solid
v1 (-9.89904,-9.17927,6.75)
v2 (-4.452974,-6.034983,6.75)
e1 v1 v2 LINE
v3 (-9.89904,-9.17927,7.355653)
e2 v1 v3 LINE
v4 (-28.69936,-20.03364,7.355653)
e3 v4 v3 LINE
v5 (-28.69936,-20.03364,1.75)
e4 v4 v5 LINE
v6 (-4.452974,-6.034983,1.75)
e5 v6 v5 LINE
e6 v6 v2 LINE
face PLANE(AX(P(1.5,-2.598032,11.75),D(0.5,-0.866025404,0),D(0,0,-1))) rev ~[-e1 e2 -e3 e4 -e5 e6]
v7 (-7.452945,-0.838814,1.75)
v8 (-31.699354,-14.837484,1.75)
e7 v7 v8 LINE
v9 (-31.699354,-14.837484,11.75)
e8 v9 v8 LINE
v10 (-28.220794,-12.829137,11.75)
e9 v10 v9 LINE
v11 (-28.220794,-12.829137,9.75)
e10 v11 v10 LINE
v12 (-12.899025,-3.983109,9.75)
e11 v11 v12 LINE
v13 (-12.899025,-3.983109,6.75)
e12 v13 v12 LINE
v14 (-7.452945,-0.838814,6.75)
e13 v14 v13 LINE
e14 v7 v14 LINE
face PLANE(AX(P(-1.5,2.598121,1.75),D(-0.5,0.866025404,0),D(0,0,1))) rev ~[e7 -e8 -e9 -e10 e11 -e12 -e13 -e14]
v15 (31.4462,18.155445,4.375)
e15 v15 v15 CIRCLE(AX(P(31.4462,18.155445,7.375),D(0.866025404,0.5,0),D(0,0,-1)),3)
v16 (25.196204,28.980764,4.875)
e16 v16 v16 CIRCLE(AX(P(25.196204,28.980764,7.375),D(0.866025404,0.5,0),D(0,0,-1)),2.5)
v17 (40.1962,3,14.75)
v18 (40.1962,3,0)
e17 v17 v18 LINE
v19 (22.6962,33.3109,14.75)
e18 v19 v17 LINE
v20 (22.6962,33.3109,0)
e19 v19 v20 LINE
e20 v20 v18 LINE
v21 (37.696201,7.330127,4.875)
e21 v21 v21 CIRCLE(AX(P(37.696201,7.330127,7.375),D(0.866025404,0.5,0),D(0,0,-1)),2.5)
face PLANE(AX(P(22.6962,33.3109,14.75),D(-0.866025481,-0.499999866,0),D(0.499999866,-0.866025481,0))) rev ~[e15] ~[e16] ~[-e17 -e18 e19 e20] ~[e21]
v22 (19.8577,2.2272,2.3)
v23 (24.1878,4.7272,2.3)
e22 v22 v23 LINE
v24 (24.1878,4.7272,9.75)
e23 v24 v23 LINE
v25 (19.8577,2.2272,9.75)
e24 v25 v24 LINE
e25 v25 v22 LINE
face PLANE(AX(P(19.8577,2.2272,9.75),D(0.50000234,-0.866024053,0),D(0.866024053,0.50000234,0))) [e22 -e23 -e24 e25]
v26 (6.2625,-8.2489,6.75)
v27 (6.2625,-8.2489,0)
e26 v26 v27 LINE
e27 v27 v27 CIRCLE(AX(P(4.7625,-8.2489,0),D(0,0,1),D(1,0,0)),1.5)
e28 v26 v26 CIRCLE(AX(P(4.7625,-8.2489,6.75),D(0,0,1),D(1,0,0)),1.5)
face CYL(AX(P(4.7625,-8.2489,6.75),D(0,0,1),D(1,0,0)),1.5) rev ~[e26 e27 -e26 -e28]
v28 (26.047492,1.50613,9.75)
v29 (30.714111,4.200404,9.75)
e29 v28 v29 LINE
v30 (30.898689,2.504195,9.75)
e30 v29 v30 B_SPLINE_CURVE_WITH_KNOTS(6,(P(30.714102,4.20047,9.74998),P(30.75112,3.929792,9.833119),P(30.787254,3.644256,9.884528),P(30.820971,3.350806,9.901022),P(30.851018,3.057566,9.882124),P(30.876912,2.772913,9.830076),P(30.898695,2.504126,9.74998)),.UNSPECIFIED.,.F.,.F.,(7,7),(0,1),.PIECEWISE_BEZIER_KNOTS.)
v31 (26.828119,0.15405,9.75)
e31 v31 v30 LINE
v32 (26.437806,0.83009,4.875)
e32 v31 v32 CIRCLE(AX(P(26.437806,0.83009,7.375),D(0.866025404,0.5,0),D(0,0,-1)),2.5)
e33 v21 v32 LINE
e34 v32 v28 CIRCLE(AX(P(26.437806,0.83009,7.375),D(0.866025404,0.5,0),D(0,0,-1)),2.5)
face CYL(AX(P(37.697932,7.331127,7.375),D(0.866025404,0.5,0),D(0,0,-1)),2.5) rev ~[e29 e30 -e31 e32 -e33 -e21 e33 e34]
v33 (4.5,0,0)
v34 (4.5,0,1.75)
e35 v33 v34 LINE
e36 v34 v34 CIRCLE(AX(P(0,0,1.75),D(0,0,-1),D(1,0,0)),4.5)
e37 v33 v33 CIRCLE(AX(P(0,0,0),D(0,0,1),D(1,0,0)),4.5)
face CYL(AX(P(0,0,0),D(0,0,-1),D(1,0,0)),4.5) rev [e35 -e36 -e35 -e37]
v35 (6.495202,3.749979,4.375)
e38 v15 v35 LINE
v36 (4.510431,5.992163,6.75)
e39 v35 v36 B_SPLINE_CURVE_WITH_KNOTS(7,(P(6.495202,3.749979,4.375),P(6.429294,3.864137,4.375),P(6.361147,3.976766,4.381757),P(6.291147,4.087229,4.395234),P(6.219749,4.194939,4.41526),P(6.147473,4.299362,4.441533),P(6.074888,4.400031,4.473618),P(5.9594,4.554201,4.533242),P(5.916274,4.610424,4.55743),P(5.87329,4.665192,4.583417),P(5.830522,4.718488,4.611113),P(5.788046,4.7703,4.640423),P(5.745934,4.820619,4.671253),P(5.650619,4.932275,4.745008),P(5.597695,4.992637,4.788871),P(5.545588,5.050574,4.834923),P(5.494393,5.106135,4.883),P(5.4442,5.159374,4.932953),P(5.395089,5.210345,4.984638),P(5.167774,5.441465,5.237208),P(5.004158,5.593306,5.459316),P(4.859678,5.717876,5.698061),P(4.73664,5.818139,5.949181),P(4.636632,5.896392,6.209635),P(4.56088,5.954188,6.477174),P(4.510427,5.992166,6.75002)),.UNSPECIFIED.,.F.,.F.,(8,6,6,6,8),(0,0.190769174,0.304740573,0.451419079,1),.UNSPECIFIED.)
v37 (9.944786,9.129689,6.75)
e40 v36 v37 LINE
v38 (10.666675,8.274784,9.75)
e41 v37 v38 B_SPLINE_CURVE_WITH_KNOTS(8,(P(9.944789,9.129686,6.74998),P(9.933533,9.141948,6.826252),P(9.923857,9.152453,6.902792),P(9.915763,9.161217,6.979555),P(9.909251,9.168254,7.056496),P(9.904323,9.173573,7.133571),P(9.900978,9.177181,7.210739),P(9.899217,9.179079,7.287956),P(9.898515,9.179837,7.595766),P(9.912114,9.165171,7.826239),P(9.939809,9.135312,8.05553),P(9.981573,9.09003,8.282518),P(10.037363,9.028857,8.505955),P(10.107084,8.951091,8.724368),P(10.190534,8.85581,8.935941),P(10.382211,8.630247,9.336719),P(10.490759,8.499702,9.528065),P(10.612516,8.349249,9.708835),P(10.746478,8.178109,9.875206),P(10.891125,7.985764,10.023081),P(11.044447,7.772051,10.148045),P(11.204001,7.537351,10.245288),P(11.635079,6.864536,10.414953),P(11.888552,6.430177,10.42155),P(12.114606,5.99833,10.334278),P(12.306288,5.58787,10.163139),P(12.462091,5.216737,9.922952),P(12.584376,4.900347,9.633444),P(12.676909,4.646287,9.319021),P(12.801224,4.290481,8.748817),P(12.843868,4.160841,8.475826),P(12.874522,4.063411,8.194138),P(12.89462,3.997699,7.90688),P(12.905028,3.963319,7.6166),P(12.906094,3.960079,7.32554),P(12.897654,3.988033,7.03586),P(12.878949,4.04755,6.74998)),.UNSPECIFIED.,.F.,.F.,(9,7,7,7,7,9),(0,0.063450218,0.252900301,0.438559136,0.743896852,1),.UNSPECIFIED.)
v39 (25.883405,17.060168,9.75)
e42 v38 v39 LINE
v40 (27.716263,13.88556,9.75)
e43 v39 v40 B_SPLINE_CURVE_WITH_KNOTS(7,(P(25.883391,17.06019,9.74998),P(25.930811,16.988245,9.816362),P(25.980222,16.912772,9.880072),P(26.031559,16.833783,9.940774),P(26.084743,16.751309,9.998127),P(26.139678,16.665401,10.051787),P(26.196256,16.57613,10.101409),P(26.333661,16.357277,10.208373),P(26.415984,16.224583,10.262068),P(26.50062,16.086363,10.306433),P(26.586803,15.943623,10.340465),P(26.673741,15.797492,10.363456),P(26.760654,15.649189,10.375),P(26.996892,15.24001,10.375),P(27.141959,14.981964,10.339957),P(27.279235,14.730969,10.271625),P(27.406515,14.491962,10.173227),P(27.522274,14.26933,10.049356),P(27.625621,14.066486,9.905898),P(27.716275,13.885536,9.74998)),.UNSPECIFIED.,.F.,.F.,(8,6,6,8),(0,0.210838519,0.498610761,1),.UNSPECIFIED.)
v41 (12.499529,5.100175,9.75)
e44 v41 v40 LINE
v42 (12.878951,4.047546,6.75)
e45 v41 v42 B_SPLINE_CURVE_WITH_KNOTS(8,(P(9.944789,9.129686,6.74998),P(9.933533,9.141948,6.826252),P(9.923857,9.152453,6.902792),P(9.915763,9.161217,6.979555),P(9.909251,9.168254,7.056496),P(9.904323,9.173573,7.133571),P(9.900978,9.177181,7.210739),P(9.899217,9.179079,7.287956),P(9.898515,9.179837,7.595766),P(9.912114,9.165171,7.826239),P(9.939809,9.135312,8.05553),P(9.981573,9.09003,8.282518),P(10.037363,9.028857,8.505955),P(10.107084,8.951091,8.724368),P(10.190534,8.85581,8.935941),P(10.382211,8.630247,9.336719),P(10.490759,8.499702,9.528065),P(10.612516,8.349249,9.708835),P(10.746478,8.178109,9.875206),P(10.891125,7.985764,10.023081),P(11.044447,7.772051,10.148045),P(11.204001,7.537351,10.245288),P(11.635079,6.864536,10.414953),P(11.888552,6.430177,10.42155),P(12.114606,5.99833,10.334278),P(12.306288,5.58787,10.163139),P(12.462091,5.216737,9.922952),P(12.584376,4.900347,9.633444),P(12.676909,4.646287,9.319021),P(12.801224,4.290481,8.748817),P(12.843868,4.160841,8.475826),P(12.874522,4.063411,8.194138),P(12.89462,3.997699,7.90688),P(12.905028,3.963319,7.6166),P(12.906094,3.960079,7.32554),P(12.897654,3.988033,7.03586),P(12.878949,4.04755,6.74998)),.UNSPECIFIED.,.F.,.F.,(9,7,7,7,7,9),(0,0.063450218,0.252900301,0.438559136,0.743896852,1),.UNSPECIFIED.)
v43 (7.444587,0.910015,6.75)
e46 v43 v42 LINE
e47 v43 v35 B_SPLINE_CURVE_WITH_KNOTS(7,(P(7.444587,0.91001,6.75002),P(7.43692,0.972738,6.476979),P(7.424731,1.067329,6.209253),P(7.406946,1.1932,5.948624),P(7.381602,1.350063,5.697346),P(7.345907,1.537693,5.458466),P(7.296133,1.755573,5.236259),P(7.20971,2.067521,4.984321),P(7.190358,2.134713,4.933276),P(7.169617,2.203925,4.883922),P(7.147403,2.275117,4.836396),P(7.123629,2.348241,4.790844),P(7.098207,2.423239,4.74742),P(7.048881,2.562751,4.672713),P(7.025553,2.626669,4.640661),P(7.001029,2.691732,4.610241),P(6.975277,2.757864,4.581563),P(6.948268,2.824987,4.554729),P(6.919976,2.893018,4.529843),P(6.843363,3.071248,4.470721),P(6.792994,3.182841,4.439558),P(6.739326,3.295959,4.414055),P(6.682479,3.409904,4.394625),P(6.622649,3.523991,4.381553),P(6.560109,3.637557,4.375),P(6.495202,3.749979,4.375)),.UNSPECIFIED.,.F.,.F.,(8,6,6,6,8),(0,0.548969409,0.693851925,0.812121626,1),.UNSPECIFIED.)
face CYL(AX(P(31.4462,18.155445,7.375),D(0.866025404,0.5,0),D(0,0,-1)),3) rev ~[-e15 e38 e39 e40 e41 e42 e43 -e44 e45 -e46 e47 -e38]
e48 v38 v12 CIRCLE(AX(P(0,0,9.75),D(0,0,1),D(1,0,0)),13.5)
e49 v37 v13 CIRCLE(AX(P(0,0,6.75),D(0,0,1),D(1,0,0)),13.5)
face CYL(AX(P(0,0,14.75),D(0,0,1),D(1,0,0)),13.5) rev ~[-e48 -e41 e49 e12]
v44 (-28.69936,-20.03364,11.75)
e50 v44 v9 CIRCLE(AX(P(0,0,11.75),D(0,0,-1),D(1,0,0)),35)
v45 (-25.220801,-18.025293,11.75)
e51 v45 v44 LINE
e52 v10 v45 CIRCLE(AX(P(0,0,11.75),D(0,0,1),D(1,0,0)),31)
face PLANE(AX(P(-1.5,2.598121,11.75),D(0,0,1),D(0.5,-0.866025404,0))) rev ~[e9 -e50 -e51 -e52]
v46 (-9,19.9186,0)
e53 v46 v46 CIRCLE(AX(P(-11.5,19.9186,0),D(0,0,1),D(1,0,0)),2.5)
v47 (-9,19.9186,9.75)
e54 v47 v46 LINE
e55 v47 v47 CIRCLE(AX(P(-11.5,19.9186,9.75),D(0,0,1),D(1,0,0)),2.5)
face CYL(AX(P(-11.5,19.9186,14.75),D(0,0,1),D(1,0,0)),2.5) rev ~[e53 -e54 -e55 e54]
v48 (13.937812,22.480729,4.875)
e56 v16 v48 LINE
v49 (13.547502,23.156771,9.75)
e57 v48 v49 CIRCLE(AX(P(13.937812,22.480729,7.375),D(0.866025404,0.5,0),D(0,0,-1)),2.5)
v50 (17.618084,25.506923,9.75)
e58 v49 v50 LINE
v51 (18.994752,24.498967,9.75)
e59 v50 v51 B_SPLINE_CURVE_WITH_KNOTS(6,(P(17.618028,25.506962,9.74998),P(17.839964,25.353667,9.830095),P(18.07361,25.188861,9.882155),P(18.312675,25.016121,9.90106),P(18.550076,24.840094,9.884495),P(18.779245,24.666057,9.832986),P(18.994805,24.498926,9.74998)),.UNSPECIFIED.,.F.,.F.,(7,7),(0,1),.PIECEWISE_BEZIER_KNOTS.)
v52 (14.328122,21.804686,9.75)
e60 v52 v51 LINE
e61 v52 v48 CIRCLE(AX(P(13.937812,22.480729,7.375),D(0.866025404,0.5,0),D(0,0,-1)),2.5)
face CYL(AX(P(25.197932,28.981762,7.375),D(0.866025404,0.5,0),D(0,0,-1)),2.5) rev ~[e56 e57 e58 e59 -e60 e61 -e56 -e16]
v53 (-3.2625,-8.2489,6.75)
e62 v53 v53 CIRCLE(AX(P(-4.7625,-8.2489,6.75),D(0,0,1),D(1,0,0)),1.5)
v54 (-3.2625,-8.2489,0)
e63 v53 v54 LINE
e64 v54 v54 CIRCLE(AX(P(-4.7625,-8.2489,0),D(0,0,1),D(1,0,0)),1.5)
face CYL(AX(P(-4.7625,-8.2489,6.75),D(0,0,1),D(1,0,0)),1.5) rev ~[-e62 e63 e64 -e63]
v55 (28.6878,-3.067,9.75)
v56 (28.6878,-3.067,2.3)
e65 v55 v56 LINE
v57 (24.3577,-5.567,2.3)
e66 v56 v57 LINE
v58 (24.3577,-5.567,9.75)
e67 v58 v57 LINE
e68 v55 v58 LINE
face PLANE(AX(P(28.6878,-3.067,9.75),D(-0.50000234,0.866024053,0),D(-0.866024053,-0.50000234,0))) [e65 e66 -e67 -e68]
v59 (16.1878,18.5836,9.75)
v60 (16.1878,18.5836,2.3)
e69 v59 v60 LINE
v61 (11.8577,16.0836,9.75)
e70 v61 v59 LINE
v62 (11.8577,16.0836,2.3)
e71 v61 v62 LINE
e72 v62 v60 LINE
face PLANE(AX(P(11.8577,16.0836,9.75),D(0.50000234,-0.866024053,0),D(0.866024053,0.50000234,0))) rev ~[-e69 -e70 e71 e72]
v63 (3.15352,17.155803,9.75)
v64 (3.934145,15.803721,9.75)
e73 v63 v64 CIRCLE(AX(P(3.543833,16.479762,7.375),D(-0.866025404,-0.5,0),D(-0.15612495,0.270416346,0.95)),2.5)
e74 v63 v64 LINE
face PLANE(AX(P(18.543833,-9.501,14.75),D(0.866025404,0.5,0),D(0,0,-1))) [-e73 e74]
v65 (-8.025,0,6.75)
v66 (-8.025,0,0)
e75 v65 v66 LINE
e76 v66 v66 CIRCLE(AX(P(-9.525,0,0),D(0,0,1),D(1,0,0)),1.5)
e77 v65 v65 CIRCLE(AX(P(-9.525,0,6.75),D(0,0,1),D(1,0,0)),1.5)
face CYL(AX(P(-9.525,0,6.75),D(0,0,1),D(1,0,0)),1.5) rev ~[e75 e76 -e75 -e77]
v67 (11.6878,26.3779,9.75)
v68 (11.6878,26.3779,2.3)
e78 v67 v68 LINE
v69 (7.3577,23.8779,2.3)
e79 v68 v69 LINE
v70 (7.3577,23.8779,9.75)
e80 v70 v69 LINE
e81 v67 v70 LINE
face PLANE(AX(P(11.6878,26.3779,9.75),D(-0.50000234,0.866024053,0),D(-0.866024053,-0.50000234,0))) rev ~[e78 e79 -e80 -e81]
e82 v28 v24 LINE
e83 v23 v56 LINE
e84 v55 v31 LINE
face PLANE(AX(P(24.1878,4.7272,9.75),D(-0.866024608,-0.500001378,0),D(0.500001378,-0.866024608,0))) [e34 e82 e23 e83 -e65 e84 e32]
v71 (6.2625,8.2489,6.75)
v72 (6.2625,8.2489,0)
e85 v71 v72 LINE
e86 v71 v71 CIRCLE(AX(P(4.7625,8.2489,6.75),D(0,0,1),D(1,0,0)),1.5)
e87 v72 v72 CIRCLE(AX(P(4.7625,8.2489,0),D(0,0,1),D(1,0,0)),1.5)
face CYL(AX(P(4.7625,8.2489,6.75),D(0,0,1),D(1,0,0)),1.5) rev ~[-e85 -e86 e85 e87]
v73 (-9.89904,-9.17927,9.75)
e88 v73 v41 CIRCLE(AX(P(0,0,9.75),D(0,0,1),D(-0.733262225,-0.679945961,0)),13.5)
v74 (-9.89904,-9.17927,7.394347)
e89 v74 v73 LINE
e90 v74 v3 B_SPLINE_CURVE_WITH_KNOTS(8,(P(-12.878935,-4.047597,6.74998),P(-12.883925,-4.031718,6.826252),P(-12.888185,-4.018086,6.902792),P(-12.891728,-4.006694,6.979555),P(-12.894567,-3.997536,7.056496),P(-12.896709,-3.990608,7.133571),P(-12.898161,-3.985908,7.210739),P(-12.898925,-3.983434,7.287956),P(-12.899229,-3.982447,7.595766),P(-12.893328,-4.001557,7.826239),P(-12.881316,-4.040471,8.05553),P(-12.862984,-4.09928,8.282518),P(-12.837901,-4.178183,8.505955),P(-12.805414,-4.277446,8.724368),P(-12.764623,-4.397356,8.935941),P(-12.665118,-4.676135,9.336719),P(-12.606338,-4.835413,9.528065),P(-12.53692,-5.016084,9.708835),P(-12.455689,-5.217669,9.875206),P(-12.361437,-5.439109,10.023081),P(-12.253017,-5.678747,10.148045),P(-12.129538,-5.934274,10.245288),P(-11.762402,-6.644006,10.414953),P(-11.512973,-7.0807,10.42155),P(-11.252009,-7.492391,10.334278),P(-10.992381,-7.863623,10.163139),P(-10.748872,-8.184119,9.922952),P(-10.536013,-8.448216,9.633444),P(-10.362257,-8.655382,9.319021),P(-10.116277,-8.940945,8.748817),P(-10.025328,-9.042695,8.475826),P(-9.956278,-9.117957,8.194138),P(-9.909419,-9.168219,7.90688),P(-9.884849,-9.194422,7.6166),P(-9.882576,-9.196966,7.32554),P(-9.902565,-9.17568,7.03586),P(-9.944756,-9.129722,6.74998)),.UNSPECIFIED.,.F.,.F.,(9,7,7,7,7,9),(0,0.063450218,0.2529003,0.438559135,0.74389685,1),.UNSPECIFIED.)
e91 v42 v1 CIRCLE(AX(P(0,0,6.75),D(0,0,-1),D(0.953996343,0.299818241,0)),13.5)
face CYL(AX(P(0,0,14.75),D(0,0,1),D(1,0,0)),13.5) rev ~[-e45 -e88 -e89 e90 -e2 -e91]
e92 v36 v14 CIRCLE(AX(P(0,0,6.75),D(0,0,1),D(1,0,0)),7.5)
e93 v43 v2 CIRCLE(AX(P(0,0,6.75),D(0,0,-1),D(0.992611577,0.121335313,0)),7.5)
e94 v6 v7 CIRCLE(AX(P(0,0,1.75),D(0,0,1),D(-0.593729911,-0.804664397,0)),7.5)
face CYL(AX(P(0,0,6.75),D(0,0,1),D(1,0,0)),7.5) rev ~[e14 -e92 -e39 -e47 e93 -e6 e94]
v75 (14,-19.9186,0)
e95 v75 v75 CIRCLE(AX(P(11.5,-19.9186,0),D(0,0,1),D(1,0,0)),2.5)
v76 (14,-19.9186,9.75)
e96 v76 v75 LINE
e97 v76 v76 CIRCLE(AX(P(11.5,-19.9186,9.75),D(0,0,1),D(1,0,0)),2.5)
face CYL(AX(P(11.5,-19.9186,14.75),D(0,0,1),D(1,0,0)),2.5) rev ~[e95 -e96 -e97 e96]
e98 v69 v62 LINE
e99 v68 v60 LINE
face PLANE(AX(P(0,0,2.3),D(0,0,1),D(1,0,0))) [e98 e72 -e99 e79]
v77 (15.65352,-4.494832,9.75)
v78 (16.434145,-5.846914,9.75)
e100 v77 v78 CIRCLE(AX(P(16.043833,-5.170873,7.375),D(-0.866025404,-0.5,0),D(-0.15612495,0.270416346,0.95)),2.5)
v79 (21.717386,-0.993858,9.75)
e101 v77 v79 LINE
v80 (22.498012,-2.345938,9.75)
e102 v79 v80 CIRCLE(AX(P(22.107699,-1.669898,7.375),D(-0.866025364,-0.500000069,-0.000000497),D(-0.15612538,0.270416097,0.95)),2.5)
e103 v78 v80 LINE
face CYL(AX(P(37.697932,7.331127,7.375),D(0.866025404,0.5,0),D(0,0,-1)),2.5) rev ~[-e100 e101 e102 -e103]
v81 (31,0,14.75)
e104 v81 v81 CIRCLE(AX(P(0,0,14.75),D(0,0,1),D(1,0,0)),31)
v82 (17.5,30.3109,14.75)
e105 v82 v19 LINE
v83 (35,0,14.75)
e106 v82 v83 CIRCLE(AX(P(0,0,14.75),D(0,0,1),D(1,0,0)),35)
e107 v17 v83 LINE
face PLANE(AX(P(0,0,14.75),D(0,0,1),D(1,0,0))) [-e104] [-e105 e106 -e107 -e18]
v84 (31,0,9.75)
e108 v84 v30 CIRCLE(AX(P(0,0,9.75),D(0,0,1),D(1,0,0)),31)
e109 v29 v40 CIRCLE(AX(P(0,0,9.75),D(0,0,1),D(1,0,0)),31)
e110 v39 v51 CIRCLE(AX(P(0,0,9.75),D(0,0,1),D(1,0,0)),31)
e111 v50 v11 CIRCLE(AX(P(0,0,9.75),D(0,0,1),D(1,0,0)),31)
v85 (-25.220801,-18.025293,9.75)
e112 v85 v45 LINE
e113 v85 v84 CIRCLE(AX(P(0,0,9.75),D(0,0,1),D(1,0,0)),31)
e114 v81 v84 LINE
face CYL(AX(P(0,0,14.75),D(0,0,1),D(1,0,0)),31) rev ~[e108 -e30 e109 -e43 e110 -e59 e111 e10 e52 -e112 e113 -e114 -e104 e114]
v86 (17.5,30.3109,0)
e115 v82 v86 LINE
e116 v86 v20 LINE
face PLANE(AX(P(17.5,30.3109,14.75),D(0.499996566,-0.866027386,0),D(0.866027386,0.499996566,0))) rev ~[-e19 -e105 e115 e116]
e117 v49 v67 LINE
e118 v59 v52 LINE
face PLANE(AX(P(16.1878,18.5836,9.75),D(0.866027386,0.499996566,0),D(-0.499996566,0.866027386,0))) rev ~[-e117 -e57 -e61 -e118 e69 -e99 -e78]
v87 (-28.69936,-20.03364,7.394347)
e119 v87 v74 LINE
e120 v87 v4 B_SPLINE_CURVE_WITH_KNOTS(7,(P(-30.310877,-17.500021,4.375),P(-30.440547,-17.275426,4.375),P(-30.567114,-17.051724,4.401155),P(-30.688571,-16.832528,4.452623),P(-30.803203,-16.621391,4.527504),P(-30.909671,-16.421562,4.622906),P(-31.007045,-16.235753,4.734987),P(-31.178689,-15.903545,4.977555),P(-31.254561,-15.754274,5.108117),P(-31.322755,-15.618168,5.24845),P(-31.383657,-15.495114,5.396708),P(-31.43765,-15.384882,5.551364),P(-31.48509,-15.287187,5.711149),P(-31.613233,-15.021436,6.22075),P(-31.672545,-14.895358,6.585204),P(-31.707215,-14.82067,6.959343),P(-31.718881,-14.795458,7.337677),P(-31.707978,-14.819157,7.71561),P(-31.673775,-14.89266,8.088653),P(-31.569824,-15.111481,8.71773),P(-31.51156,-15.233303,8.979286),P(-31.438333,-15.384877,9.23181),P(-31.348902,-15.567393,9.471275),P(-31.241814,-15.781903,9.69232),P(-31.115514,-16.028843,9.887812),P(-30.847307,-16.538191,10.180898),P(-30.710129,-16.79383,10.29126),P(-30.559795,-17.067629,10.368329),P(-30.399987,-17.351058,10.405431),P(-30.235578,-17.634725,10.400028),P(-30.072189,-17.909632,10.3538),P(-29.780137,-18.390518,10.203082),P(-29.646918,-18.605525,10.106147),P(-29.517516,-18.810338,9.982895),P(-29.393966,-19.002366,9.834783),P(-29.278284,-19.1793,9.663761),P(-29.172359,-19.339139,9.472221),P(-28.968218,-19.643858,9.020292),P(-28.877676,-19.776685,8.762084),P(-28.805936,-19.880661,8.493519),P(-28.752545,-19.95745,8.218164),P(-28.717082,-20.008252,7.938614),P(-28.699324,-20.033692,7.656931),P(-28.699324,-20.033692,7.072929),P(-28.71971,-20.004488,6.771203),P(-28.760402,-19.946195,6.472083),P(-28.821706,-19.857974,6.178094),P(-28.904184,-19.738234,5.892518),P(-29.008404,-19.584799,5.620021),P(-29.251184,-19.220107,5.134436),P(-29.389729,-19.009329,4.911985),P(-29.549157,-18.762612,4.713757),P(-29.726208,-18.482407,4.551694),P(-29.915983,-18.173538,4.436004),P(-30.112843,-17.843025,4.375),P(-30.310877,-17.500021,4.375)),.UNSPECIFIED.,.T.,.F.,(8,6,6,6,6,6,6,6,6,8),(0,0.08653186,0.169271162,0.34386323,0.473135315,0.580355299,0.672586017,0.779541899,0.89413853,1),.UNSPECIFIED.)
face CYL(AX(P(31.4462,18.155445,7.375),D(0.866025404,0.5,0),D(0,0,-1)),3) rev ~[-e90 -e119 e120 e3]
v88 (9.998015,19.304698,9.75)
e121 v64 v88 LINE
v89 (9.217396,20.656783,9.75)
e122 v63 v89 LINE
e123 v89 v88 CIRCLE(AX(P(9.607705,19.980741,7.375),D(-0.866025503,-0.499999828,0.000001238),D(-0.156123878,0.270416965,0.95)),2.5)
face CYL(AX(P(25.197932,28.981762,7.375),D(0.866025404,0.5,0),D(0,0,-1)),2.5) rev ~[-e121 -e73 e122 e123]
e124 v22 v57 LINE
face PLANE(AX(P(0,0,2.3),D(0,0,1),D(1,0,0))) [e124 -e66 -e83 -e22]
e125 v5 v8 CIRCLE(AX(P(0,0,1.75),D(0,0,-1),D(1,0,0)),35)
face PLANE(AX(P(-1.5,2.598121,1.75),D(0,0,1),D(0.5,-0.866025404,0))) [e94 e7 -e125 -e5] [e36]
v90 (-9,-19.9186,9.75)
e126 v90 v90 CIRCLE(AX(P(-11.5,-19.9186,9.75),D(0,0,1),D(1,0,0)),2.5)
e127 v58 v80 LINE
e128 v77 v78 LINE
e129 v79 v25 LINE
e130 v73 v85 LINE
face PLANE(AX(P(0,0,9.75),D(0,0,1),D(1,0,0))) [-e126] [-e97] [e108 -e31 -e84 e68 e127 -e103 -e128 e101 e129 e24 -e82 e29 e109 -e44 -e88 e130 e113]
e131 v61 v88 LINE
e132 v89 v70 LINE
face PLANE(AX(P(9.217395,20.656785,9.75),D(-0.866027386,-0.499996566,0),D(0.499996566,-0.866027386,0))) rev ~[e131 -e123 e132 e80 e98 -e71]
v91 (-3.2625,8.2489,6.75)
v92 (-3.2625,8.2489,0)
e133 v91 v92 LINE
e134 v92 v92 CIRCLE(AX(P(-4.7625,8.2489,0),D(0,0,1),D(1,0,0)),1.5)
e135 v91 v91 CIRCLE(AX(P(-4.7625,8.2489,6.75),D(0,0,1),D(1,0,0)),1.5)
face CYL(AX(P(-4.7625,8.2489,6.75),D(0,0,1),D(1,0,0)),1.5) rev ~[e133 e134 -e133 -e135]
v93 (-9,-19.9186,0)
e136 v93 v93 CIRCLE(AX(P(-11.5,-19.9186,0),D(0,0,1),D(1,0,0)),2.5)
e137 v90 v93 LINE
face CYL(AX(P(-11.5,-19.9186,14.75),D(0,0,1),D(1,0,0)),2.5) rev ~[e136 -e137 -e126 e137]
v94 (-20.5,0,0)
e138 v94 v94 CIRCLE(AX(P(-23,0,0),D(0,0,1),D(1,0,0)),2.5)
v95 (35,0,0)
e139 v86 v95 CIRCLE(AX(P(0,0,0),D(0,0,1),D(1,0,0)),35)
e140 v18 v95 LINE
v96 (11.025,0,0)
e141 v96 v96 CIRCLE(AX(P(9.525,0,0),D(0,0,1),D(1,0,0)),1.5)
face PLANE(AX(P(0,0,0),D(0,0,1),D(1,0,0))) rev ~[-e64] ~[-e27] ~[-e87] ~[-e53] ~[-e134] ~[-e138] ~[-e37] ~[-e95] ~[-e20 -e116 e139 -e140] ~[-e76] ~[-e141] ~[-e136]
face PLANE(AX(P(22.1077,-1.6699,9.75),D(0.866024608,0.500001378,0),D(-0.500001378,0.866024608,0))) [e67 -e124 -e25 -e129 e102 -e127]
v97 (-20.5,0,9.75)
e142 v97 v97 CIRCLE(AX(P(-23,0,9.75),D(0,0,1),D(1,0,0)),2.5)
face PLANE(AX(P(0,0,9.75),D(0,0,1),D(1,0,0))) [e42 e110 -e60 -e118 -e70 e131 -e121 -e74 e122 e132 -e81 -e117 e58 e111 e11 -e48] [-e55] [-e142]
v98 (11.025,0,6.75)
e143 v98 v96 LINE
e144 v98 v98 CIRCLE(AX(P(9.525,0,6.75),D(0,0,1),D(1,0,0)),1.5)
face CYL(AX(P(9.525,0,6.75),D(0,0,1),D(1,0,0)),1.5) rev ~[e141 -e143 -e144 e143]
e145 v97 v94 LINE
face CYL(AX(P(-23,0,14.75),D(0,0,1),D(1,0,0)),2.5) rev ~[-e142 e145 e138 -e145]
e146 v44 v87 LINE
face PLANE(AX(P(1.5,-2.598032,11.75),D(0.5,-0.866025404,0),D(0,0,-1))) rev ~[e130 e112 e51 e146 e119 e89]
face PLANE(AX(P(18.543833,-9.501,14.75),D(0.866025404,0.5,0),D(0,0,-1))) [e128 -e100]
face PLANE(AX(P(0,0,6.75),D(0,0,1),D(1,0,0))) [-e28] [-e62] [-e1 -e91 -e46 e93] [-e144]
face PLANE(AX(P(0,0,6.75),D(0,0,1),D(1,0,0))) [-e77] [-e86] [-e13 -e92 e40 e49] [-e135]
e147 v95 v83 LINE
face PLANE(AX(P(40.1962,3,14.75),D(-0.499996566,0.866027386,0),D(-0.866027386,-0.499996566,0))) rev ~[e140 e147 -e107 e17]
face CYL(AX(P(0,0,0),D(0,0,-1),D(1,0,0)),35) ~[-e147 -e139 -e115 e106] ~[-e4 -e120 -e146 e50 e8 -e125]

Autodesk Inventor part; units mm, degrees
ref_plane "YZ Plane" through (0, 0, 0) normal (1, 0, 0) x (0, 1, 0)
ref_plane "XZ Plane" through (0, 0, 0) normal (0, 1, 0) x (-1, 0, 0)
sketch "Sketch1" plane through (0, 0, 0) normal (0, 0, 1) x (1, 0, 0)
  circle A0 centre (0, 0) radius 35
  circle A1 centre (0, 0) radius 4.5
  dimension "d0" = 70
  dimension "d1" = 9
extrude "Extrusion1" add sketch "Sketch1" along normal blind 14.75
sketch "Sketch2" plane through (0, 0, 14.75) normal (0, 0, 1) x (1, 0, 0)
  circle A0 centre (0, 0) radius 13.5
  dimension "d4" = 27
extrude "Extrusion2" cut sketch "Sketch2" against normal blind 8
sketch "Sketch3" plane through (0, 0, 6.75) normal (0, 0, 1) x (1, 0, 0)
  circle A0 centre (0, 0) radius 7.5
  dimension "d7" = 15
extrude "Extrusion3" cut sketch "Sketch3" against normal blind 5
sketch "Sketch4" plane through (0, 0, 6.75) normal (0, 0, 1) x (1, 0, 0)
  circle A0 centre (9.525, 0) radius 1.5
  circle A1 centre (4.7625, 8.2489) radius 1.5
  circle A2 centre (-4.7625, 8.2489) radius 1.5
  circle A3 centre (-9.525, 0) radius 1.5
  circle A4 centre (-4.7625, -8.2489) radius 1.5
  circle A5 centre (4.7625, -8.2489) radius 1.5
  point P0 (0, 0)
  dimension "d10" = 3
  dimension "d11" = 9.525
  dimension "d14" = 360
extrude "Extrusion4" cut sketch "Sketch4" against normal through all
sketch "Sketch5" plane through (0, 0, 14.75) normal (0, 0, 1) x (1, 0, 0)
  circle A0 centre (23, 0) radius 2.5
  circle A1 centre (11.5, 19.9186) radius 2.5
  circle A2 centre (-11.5, 19.9186) radius 2.5
  circle A3 centre (-23, 0) radius 2.5
  circle A4 centre (-11.5, -19.9186) radius 2.5
  circle A5 centre (11.5, -19.9186) radius 2.5
  point P0 (0, 0)
  dimension "d18" = 5
  dimension "d19" = 23
  dimension "d22" = 360
extrude "Extrusion5" cut sketch "Sketch5" against normal through all contours A2 | A3 | A4 | A5
sketch "Sketch7" plane through (0, 0, 14.75) normal (0, 0, 1) x (1, 0, 0)
  line L0 (17.5, 30.3109) -> (22.6962, 33.3109)
  line L1 (22.6962, 33.3109) -> (40.1962, 3)
  line L2 (40.1962, 3) -> (35, 0)
  line L3 (35, 0) -> (17.5, 30.3109)
  circle A0 centre (0, 0) radius 35 construction
  line L4 (0, 0) -> (26.25, 15.1554)
  line L5 (0, 0) -> (26.25, 0)
  dimension "d33" = 6
  dimension "d34" = 35
  dimension "d43" = 30
extrude "Extrusion7" add sketch "Sketch7" against normal blind 14.75
sketch "Sketch8" plane through (40.1962, 3, 14.75) normal (0.866, 0.5, 0) x (0, 0, -1)
  circle A0 centre (7.375, 30) radius 2.5
  circle A1 centre (7.375, 5) radius 2.5
  line L0 (7.375, 30) -> (7.375, 5) construction
  line L1 (14.75, 35) -> (14.75, 0) projected
  line L2 (0, 35) -> (14.75, 35) projected
  point P0 (14.75, 17.5)
  point P1 (14.75, 17.5)
  point P2 (7.375, 17.5)
  point P3 (7.375, 35)
  dimension "d37" = 5
  dimension "d38" = 5
  dimension "d39" = 25
extrude "Extrusion8" cut sketch "Sketch8" against normal blind 25
sketch "Sketch9" plane through (40.1962, 3, 14.75) normal (0.866, 0.5, 0) x (0, 0, -1)
  circle A0 centre (7.375, 17.5) radius 3
  line L0 (14.75, 35) -> (14.75, 0) projected
  circle A1 centre (7.375, 30) radius 2.5 construction
  point P0 (14.75, 17.5)
  point P1 (14.75, 17.5)
  dimension "d42" = 6
extrude "Extrusion9" cut sketch "Sketch9" against normal through all
ref_plane "Work Plane1" through (8.75, -15.1554, 14.75) normal (0.866, 0.5, 0) x (0, 0, -1)
sketch "Sketch11" plane through (8.75, -15.1554, 14.75) normal (0.866, 0.5, 0) x (0, 0, -1)
  line L0 (13, 22) -> (13, 13) projected
  line L1 (13, 10) -> (13, 25) projected
  line L2 (0, 35) -> (0, 0) projected
  line L3 (0, 35) -> (0, 0) projected
  line L4 (0, 4) -> (0, 31) projected
  line L5 (13, 10) -> (13, 25) projected
  line L6 (13, 20.5) -> (3, 20.5)
  line L7 (3, 20.5) -> (3, 14.5)
  line L8 (3, 14.5) -> (13, 14.5)
  line L9 (13, 14.5) -> (13, 20.5)
  point P0 (14.75, 17.5)
  point P1 (0, -0.5)
  point P2 (0, 12.5)
  point P3 (0, 34)
  point P4 (0, 47)
  point P5 (0, -0.5)
  point P6 (0, 12.5)
  point P7 (0, 22.5)
  point P8 (0, 35.5)
  point P9 (0, 22.5)
  point P10 (0, 35.5)
  point P11 (0, -12)
  point P12 (0, 1)
  point P13 (8, 20.4342)
  point P14 (8, 14.5658)
  dimension "d47" = 3
extrude "Extrusion10" cut sketch "Sketch11" against normal through all
sketch "Sketch12" plane through (0, 0, 14.75) normal (0, 0, 1) x (1, 0, 0)
  arc A0 (17.5, 30.3109) -> (35, 0) centre (0, 0) ccw projected
  circle A1 centre (0, 0) radius 35
  circle A2 centre (0, 0) radius 31
  dimension "d50" = 4
extrude "Extrusion11" cut sketch "Sketch12" against normal blind 5 contours A2
sketch "Sketch13" plane through (0, 0, 9.75) normal (0, 0, 1) x (1, 0, 0)
  line L0 (7.3577, 23.8779) -> (11.8577, 16.0836)
  line L1 (11.8577, 16.0836) -> (16.1878, 18.5836)
  line L2 (16.1878, 18.5836) -> (11.6878, 26.3779)
  line L3 (11.6878, 26.3779) -> (7.3577, 23.8779)
  line L4 (3.1552, 17.1568) -> (3.9358, 15.8047)
  line L5 (17.6181, 25.5069) -> (3.1552, 17.1568)
  line L6 (3.5455, 16.4808) -> (9.6077, 19.9808)
  circle A0 centre (0, 0) radius 4.5
  line L7 (0, 0) -> (38.9378, 22.4808)
  line L8 (0, 0) -> (44.9615, 0) construction
  line L9 (24.3577, -5.567) -> (19.8577, 2.2272)
  line L10 (19.8577, 2.2272) -> (24.1878, 4.7272)
  line L11 (24.1878, 4.7272) -> (28.6878, -3.067)
  line L12 (28.6878, -3.067) -> (24.3577, -5.567)
  line L13 (16.4358, -5.8459) -> (15.6552, -4.4938)
  line L14 (30.8987, 2.5042) -> (16.4358, -5.8459)
  line L15 (16.0455, -5.1699) -> (22.1077, -1.6699)
  point P0 (30.8987, 2.5042)
  point P1 (22.1077, -1.6699)
  dimension "d54" = 5
  dimension "d56" = 9
  dimension "d59" = 7
  dimension "d60" = 30
extrude "Extrusion12" cut sketch "Sketch13" against normal blind 7.45 contours L0 L5 L2 L1 | L0 L3 L2 L5 | L9 L10 L11 L14 | L14 L11 L12 L9
properties part number "AA046" material "ABS Plastic"
